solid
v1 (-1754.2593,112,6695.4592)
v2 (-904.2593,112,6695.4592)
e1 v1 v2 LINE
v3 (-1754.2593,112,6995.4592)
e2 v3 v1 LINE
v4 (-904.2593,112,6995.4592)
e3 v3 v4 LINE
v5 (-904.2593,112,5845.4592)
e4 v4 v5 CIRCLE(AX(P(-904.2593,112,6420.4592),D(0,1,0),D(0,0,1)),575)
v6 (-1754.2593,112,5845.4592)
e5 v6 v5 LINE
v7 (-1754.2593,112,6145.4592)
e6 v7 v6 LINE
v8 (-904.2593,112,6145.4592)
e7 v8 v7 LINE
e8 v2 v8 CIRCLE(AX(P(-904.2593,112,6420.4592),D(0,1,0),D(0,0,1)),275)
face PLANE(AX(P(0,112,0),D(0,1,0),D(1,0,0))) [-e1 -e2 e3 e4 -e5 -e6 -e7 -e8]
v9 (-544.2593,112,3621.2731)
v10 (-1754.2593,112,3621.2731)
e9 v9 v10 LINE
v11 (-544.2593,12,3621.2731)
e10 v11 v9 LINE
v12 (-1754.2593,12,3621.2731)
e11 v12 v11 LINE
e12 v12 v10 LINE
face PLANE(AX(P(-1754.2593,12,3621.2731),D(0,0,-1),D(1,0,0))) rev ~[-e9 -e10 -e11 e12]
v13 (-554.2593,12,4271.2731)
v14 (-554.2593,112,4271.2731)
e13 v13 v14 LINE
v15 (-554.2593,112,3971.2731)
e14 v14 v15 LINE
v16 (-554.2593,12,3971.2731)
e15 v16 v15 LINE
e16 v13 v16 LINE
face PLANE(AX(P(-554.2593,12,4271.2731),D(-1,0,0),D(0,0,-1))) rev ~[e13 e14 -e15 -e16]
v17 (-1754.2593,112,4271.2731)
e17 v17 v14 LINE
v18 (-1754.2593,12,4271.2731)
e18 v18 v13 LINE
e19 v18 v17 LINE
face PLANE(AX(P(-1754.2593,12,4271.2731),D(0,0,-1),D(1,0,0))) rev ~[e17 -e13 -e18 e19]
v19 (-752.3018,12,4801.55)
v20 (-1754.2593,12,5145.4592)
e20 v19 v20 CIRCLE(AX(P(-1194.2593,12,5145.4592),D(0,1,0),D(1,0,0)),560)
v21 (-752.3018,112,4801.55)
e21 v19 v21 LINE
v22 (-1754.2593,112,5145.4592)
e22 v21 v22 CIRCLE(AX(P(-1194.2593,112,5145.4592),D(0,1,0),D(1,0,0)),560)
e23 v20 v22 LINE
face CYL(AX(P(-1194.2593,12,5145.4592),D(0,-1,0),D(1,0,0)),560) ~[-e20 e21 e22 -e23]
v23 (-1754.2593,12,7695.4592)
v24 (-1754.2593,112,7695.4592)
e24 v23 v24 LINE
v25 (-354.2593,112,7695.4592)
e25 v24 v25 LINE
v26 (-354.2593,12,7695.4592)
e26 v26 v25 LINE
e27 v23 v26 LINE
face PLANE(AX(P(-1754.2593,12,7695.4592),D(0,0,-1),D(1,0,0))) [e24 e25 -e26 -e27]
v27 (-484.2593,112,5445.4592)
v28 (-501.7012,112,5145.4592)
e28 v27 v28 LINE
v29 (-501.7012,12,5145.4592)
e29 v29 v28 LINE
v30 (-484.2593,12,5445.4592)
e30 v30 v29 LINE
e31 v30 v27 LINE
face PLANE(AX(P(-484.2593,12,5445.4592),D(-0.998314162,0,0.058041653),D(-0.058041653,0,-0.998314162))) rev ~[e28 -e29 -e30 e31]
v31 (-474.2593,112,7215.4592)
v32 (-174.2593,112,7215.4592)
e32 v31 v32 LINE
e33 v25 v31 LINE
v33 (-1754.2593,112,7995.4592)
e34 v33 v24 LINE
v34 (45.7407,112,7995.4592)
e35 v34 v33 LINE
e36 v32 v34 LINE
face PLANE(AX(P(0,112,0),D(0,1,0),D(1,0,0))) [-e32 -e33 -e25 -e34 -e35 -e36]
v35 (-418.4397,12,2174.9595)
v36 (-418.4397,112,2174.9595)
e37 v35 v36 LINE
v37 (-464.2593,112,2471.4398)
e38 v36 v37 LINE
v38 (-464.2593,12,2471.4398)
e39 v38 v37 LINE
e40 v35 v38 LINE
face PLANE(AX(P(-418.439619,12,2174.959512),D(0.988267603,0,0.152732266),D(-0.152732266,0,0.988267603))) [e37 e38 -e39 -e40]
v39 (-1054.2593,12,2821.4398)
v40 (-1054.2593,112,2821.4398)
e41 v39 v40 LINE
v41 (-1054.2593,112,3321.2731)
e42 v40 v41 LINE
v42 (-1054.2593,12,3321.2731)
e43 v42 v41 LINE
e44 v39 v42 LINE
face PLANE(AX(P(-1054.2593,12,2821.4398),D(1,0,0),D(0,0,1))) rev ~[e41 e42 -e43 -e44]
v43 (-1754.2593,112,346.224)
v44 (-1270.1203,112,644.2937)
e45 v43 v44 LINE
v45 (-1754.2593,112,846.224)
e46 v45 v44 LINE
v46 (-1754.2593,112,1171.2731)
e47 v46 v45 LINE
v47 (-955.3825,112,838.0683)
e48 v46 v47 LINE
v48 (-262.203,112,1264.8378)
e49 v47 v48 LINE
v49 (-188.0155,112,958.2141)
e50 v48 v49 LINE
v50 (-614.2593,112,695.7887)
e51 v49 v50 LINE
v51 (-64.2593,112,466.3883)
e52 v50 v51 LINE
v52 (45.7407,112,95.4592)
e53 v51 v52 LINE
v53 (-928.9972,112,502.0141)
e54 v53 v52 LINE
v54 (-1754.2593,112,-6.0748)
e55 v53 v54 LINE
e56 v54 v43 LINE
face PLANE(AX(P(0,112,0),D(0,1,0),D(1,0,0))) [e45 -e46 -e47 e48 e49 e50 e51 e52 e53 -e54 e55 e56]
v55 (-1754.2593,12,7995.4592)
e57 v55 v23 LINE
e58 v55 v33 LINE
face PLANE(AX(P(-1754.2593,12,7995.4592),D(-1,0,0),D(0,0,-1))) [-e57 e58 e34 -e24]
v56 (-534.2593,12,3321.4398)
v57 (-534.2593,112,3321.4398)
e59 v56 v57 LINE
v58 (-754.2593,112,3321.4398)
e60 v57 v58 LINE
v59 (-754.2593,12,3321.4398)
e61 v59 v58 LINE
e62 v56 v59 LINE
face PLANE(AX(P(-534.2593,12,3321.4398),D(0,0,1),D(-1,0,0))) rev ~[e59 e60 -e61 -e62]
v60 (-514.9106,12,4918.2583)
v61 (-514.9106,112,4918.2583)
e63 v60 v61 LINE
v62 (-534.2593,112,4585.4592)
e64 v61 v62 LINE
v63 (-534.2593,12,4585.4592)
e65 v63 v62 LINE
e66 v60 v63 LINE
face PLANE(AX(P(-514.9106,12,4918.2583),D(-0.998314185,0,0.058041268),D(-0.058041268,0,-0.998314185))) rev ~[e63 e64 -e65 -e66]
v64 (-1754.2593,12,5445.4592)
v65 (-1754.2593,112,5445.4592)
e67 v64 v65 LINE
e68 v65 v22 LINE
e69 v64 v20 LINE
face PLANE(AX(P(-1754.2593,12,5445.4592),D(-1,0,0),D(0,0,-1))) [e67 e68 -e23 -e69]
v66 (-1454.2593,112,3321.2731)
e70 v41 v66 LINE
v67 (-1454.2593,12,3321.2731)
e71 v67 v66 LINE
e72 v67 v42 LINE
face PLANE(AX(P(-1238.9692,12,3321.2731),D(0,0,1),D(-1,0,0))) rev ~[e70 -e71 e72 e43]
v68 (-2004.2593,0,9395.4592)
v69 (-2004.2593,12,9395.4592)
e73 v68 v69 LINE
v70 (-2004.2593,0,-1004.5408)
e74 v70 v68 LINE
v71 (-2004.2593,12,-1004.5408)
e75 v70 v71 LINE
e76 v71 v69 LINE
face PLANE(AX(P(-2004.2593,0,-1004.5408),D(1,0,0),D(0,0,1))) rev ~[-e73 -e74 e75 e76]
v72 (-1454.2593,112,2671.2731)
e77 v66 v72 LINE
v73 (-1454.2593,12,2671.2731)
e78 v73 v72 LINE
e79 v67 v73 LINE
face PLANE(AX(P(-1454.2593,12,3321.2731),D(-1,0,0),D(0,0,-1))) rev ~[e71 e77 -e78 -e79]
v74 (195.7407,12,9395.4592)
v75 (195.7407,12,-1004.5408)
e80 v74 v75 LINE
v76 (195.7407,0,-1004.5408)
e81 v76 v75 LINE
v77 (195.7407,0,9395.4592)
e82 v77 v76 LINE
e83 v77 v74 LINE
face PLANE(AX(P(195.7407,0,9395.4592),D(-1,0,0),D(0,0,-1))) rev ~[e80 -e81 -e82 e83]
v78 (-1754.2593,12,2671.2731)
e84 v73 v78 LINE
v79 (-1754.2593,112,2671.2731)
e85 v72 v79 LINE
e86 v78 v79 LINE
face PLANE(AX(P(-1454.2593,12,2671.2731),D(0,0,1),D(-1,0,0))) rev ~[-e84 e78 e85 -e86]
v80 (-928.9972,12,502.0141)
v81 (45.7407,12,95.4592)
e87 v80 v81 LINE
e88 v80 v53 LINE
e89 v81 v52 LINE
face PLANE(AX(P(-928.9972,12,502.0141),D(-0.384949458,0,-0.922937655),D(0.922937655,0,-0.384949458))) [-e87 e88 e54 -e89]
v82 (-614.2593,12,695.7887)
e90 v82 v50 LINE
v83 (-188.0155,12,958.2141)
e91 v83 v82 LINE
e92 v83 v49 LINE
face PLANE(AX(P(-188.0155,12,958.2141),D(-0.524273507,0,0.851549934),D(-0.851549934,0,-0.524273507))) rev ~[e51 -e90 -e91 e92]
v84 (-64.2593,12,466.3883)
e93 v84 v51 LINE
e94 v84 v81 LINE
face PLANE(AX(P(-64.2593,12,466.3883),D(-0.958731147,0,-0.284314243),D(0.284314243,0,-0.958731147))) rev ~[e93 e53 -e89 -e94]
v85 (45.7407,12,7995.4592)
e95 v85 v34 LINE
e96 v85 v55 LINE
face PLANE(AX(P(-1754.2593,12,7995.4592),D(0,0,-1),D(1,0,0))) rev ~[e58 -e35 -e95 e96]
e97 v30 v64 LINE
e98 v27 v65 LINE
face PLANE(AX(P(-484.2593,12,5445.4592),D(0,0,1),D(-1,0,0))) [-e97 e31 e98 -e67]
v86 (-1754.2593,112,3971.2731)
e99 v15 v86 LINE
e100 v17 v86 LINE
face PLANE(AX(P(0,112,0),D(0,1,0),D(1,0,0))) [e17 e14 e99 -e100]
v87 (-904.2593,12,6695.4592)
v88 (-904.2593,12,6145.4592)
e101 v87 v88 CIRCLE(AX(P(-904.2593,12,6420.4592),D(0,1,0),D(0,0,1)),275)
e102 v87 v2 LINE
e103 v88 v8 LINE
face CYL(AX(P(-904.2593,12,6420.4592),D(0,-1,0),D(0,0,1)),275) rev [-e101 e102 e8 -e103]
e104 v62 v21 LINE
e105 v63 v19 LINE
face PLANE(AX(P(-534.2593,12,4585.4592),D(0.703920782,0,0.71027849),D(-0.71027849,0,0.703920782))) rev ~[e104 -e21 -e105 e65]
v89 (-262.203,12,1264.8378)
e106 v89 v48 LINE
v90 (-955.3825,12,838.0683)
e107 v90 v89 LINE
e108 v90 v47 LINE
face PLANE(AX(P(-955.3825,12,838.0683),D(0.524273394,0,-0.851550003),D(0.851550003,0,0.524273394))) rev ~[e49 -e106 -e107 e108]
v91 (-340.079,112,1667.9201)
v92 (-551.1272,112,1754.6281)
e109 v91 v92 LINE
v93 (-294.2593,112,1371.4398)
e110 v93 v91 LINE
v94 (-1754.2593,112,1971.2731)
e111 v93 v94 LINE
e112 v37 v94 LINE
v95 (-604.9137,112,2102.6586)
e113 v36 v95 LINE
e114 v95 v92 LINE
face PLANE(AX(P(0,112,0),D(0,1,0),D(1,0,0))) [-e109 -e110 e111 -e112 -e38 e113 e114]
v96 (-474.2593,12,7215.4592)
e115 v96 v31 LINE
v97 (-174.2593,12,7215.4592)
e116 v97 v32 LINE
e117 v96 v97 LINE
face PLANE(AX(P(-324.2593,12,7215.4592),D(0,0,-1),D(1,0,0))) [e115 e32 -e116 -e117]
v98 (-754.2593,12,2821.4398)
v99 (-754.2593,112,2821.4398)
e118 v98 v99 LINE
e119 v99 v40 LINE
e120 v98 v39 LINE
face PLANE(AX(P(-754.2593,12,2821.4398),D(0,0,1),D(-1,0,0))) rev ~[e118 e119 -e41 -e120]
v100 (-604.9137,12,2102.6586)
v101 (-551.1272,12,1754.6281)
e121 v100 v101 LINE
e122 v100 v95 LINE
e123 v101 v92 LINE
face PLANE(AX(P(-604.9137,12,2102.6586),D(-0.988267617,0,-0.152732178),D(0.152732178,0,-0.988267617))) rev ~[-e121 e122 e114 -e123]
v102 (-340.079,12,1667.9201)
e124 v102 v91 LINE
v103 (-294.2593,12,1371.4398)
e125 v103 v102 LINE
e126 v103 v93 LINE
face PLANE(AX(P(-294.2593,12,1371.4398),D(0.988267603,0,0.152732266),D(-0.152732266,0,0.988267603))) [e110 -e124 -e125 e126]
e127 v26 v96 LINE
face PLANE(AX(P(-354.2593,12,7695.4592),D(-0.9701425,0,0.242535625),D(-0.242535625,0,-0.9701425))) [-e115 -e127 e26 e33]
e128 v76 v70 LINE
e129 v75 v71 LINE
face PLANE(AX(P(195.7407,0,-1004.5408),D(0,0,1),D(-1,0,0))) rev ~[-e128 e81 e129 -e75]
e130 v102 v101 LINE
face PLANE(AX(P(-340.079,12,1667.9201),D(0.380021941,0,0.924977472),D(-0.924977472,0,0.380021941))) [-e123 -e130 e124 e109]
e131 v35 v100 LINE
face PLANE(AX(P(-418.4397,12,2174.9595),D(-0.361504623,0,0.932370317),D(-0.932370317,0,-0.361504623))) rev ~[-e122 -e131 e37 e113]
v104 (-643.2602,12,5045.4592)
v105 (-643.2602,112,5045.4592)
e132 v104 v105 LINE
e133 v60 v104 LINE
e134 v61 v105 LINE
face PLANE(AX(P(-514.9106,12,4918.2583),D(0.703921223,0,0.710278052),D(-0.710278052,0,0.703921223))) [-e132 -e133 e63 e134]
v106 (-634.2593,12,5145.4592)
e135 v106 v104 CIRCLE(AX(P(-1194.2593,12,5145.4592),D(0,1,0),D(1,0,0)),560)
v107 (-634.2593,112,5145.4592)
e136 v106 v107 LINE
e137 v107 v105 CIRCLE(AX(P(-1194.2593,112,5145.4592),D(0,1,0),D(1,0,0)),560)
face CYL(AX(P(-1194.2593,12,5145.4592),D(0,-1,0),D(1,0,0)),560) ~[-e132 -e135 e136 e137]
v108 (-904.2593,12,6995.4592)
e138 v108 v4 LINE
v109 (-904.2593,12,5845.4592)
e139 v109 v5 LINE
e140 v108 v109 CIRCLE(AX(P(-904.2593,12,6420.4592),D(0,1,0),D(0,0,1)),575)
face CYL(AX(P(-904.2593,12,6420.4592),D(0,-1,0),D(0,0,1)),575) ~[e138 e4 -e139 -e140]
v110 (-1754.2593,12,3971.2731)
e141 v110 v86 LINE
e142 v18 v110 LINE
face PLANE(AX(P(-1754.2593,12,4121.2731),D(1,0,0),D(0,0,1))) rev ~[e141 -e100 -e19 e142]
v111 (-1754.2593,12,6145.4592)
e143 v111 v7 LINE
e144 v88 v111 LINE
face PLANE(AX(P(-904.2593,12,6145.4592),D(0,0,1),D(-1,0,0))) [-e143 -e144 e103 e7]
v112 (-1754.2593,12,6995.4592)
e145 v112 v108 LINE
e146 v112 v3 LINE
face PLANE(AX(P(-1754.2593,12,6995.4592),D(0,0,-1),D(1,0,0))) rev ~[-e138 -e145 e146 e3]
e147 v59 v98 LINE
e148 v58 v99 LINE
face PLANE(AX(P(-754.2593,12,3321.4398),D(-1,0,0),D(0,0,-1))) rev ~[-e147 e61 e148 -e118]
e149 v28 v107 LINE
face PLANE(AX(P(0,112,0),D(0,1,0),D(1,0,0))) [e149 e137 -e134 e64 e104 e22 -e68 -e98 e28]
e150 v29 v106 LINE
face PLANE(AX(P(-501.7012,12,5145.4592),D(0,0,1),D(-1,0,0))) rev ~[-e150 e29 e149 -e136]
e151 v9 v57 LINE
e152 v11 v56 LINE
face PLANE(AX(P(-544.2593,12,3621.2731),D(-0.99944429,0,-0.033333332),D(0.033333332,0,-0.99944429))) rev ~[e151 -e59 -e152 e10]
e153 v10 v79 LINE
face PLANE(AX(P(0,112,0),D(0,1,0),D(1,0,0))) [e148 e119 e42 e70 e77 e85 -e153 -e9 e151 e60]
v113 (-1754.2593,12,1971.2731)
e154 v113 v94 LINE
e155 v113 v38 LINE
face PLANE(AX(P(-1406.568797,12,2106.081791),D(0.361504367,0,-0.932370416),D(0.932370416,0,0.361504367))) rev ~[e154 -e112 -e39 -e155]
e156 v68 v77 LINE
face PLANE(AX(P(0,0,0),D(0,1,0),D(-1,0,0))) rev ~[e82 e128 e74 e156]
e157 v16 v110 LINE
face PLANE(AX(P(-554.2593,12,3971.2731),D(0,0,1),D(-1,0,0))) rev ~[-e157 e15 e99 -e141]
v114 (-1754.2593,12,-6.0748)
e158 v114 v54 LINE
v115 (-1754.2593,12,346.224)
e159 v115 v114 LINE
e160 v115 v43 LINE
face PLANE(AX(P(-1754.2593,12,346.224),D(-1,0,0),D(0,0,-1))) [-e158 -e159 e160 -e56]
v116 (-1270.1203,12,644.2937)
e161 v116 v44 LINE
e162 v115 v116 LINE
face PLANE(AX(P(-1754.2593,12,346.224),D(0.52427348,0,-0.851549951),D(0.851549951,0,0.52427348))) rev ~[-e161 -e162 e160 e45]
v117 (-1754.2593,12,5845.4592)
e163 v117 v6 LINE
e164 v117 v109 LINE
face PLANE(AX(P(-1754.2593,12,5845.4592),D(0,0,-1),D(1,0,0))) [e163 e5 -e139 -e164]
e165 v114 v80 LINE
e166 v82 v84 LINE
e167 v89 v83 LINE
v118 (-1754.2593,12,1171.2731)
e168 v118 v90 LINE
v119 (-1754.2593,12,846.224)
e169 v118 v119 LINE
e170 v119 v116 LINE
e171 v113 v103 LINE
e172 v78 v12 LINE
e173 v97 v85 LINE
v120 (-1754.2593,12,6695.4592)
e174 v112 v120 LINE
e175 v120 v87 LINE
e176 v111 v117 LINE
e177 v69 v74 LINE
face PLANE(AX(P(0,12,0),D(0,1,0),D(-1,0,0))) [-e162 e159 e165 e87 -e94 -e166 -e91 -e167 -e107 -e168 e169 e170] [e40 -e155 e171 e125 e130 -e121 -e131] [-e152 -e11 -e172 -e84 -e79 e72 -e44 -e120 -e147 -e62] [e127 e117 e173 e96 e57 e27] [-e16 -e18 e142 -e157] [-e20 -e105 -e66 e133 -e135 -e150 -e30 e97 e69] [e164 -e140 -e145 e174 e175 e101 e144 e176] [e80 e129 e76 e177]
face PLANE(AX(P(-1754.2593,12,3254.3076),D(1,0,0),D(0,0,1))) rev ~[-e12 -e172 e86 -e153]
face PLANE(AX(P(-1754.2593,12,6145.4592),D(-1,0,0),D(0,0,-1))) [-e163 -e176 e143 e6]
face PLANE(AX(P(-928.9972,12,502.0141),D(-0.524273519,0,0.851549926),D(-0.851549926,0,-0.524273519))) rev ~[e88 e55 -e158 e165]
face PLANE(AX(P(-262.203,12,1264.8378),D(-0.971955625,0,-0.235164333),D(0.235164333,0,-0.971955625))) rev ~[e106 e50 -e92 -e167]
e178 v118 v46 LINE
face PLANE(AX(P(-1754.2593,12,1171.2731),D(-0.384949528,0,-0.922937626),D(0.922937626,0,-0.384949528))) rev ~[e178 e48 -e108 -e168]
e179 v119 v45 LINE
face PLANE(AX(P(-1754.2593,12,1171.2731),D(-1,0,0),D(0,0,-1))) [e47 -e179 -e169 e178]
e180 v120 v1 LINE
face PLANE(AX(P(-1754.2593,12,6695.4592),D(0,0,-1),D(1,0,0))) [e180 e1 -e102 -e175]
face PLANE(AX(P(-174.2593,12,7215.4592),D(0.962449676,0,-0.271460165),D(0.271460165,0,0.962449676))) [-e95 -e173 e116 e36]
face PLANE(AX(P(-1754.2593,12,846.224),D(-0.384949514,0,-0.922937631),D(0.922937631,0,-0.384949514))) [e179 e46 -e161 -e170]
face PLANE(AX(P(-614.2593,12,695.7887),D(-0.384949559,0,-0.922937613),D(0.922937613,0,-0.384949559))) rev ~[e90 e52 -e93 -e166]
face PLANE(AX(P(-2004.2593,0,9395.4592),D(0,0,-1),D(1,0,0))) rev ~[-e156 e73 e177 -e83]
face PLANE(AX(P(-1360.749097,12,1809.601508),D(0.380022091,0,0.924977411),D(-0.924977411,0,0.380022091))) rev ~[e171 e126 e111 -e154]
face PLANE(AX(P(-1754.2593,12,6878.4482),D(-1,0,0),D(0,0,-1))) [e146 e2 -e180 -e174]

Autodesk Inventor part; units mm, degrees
ref_plane "YZ Plane" through (0, 0, 0) normal (1, 0, 0) x (0, 1, 0)
ref_plane "XZ Plane" through (0, 0, 0) normal (0, 1, 0) x (-1, 0, 0)
ref_plane "XY Plane" through (0, 0, 0) normal (0, 0, 1) x (1, 0, 0)
sketch "Sketch1" plane through (0, 0, 0) normal (0, 1, 0) x (-1, 0, 0)
  line L0 (2004.2593, 9395.4592) -> (-195.7407, 9395.4592)
  line L1 (-195.7407, 9395.4592) -> (-195.7407, -1004.5408)
  line L2 (-195.7407, -1004.5408) -> (2004.2593, -1004.5408)
  line L3 (2004.2593, -1004.5408) -> (2004.2593, 9395.4592)
  point P0 (0, 0)
  dimension "d0" = 2200
  dimension "d1" = 10400
extrude "Extrusion1" add sketch "Sketch1" along normal blind 12
sketch "L" plane through (0, 12, 0) normal (0, 1, 0) x (1, 0, 0)
  line L0 (-2004.2593, -9395.4592) -> (195.7407, -9395.4592) projected
  line L1 (195.7407, -9395.4592) -> (195.7407, 1004.5408) projected
  line L2 (195.7407, 1004.5408) -> (-2004.2593, 1004.5408) projected
  line L3 (-2004.2593, 1004.5408) -> (-2004.2593, -9395.4592) projected
  line L4 (-2004.2593, -9395.4592) -> (195.7407, -9395.4592) projected
  line L5 (-106.1637, 1004.5408) -> (-106.1637, -95.4592)
  line L6 (-1754.2593, -7995.4592) -> (45.7407, -7995.4592)
  line L7 (-1754.2593, -7995.4592) -> (-1754.2593, -7695.4592)
  line L8 (-1754.2593, -7695.4592) -> (-354.2593, -7695.4592)
  line L9 (-354.2593, -7695.4592) -> (-474.2593, -7215.4592)
  line L10 (-474.2593, -7215.4592) -> (-174.2593, -7215.4592)
  line L11 (-174.2593, -7215.4592) -> (45.7407, -7995.4592)
  line L12 (45.7407, -7995.4592) -> (45.7407, -7215.4592)
  line L13 (152.3488, -8495.1819) -> (932.3488, -8495.1819) construction
  line L14 (45.7407, -7215.4592) -> (-174.2593, -7215.4592)
  line L15 (-1754.2593, -8478.1639) -> (-2004.2593, -8478.1639)
  line L16 (-1343.0832, -7995.4592) -> (-1343.0832, -9395.4592)
  line L17 (-1343.0832, -7995.4592) -> (-1343.0832, -8175.4592)
  line L18 (-324.2593, -7215.4592) -> (-324.2593, -7035.4592)
  point P0 (0, 0)
  dimension "d79" = 1100
  dimension "d89" = 1800
  dimension "d90" = 300
  dimension "d91" = 1400
  dimension "d93" = 300
  dimension "d95" = 90
  dimension "d96" = 220
  dimension "d97" = 250
  dimension "d98" = 1400
  dimension "d204" = 180
  dimension "d206" = 780
  dimension "d207" = 180
sketch "U" plane through (0, 12, 0) normal (0, 1, 0) x (1, 0, 0)
  line L0 (-1754.2593, -6995.4592) -> (-1754.2593, -6695.4592)
  line L1 (-1754.2593, -6695.4592) -> (-904.2593, -6695.4592)
  line L2 (-904.2593, -6695.4592) -> (-904.2593, -6145.4592)
  line L3 (-904.2593, -6145.4592) -> (-1754.2593, -6145.4592)
  line L4 (-1754.2593, -6145.4592) -> (-1754.2593, -5845.4592)
  line L5 (-1754.2593, -5845.4592) -> (-904.2593, -5845.4592)
  arc A0 (-904.2593, -6695.4592) -> (-904.2593, -6145.4592) centre (-904.2593, -6420.4592) ccw
  line L6 (-1754.2593, -7695.4592) -> (-354.2593, -7695.4592) projected
  line L7 (-904.2593, -6995.4592) -> (-904.2593, -7695.4592)
  line L8 (-1754.2593, -6878.4482) -> (-2004.2593, -6878.4482)
  line L9 (-2004.2593, 1004.5408) -> (-2004.2593, -9395.4592) projected
  arc A1 (-904.2593, -6995.4592) -> (-904.2593, -5845.4592) centre (-904.2593, -6420.4592) ccw
  line L10 (-1754.2593, -6995.4592) -> (-904.2593, -6995.4592)
  point P0 (0, 0)
  point P1 (-1409.2346, -6695.4592)
  dimension "d99" = 850
  dimension "d100" = 300
  dimension "d101" = 850
  dimension "d102" = 550
  dimension "d103" = 300
  dimension "d104" = 700
  dimension "d105" = 250
sketch "R" plane through (0, 12, 0) normal (0, 1, 0) x (1, 0, 0)
  line L0 (-484.2593, -5445.4592) -> (-1754.2593, -5445.4592)
  line L1 (-501.7012, -5145.4592) -> (-634.2593, -5145.4592)
  line L2 (-1754.2593, -5445.4592) -> (-1754.2593, -5145.4592)
  line L3 (-1754.2593, -5845.4592) -> (-854.2593, -5845.4592) projected
  line L4 (-2004.2593, 1004.5408) -> (-2004.2593, -9395.4592) projected
  line L5 (-534.2593, -4585.4592) -> (-752.3018, -4801.55)
  line L6 (-514.9106, -4918.2583) -> (-643.2602, -5045.4592)
  arc A0 (-634.2593, -5145.4592) -> (-1754.2593, -5145.4592) centre (-1194.2593, -5145.4592) ccw
  line L7 (-484.2593, -5445.4592) -> (-501.7012, -5145.4592)
  line L8 (-514.9106, -4918.2583) -> (-534.2593, -4585.4592)
  line L9 (-2004.2593, -9395.4592) -> (195.7407, -9395.4592) projected
  line L10 (195.7407, -9395.4592) -> (195.7407, 1004.5408) projected
  line L11 (195.7407, 1004.5408) -> (-2004.2593, 1004.5408) projected
  line L12 (-2004.2593, 1004.5408) -> (-2004.2593, -9395.4592) projected
  line L13 (-1754.2593, -5145.4592) -> (-1194.2593, -5145.4592)
  line L14 (-1754.2593, -5145.4592) -> (-1194.2593, -5145.4592)
  point P0 (0, 0)
  dimension "d107" = 1270
  dimension "d113" = 300
  dimension "d210" = 300
  dimension "d212" = 50
  dimension "d214" = 250
  dimension "d218" = 400
  dimension "d219" = 1120
  dimension "d220" = 100
  dimension "d221" = 250
  dimension "d223" = 300
  dimension "d224" = 860
  dimension "d225" = 17.4419
  dimension "d226" = 30.6512
  dimension "d227" = 560
  dimension "d228" = 332.7991
  dimension "d229" = 150
sketch "I" plane through (0, 12, 0) normal (0, 1, 0) x (1, 0, 0)
  line L0 (-1754.2593, -4271.2731) -> (-554.2593, -4271.2731)
  line L1 (-554.2593, -4271.2731) -> (-554.2593, -3971.2731)
  line L2 (-554.2593, -3971.2731) -> (-1754.2593, -3971.2731)
  line L3 (-1754.2593, -3971.2731) -> (-1754.2593, -4271.2731)
  line L4 (-1754.2593, -4121.2731) -> (-2004.2593, -4121.2731)
  line L5 (-2004.2593, 1004.5408) -> (-2004.2593, -9395.4592) projected
  line L6 (-804.2593, -4745.4592) -> (-494.0035, -4642.0405) projected
  line L7 (-484.2593, -4671.2731) -> (-484.2593, -4271.2731)
  line L8 (-554.2593, -4271.2731) -> (-484.2593, -4271.2731)
  point P0 (0, 0)
  dimension "d116" = 1200
  dimension "d117" = 300
  dimension "d118" = 250
  dimension "d119" = 400
sketch "F" plane through (0, 12, 0) normal (0, 1, 0) x (1, 0, 0)
  line L0 (-554.2593, -3971.2731) -> (-1754.2593, -3971.2731) projected
  line L1 (-1754.2593, -3621.2731) -> (-544.2593, -3621.2731)
  line L2 (-544.2593, -3621.2731) -> (-534.2593, -3321.4398)
  line L3 (-534.2593, -3321.4398) -> (-754.2593, -3321.4398)
  line L4 (-754.2593, -3321.4398) -> (-754.2593, -2821.4398)
  line L5 (-754.2593, -2821.4398) -> (-1054.2593, -2821.4398)
  line L6 (-1054.2593, -2821.4398) -> (-1054.2593, -3321.2731)
  line L7 (-1054.2593, -3321.2731) -> (-1454.2593, -3321.2731)
  line L8 (-1454.2593, -3321.2731) -> (-1454.2593, -2671.2731)
  line L9 (-1454.2593, -2671.2731) -> (-1754.2593, -2671.2731)
  line L10 (-1754.2593, -2671.2731) -> (-1754.2593, -3621.2731)
  line L11 (-1754.2593, -3971.2731) -> (-1754.2593, -4271.2731) projected
  line L12 (-1754.2593, -3254.3076) -> (-2004.2593, -3254.3076)
  line L13 (-2004.2593, 1004.5408) -> (-2004.2593, -9395.4592) projected
  line L14 (-1303.0158, -3621.2731) -> (-1303.0158, -3971.2731)
  line L15 (-1238.9692, -3321.2731) -> (-1238.9692, -3621.2731)
  line L16 (-2004.2593, -9395.4592) -> (195.7407, -9395.4592) projected
  line L17 (195.7407, -9395.4592) -> (195.7407, 1004.5408) projected
  line L18 (195.7407, 1004.5408) -> (-2004.2593, 1004.5408) projected
  line L19 (-2004.2593, 1004.5408) -> (-2004.2593, -9395.4592) projected
  point P0 (0, 0)
  dimension "d120" = 1210
  dimension "d121" = 300
  dimension "d122" = 220
  dimension "d123" = 500
  dimension "d124" = 300
  dimension "d125" = 400
  dimension "d126" = 650
  dimension "d127" = 300
  dimension "d128" = 250
  dimension "d129" = 350
  dimension "d130" = 300
sketch "A" plane through (0, 12, 0) normal (0, 1, 0) x (1, 0, 0)
  line L0 (-464.2593, -2471.4398) -> (-294.2593, -2471.4398)
  line L1 (-294.2593, -2471.4398) -> (-294.2593, -1371.4398)
  line L2 (-294.2593, -1371.4398) -> (-464.2593, -2471.4398)
  line L3 (-1754.2593, -2671.2731) -> (-1754.2593, -3621.2731) projected
  line L4 (-1454.2593, -2671.2731) -> (-1754.2593, -2671.2731) projected
  line L5 (-1754.2593, -2671.2731) -> (-1754.2593, -1971.2731)
  line L6 (-1754.2593, -1971.2731) -> (-464.2593, -2471.4398)
  line L7 (-294.2593, -1371.4398) -> (-1754.2593, -1971.2731)
  line L8 (-544.2593, -3621.2731) -> (-534.2593, -3321.4398) projected
  line L9 (-534.2593, -3321.4398) -> (-754.2593, -3321.4398) projected
  line L10 (-464.2593, -2471.4398) -> (-418.4397, -2174.9595)
  line L11 (-418.4397, -2174.9595) -> (-604.9137, -2102.6586)
  line L12 (-604.9137, -2102.6586) -> (-551.1272, -1754.6281)
  line L13 (-294.2593, -1371.4398) -> (-340.079, -1667.9201)
  line L14 (-340.079, -1667.9201) -> (-551.1272, -1754.6281)
  line L15 (-1754.2593, -7995.4592) -> (45.7407, -7995.4592) projected
  line L16 (45.7407, -7995.4592) -> (45.7407, -95.4592)
  line L17 (-534.2593, -3321.4398) -> (-534.2593, -2471.4398)
  line L18 (-534.2593, -2471.4398) -> (-464.2593, -2471.4398)
  line L19 (-418.4397, -2174.9595) -> (-410.803, -2125.5461)
  line L20 (-604.9137, -2102.6586) -> (-1360.7491, -1809.6015)
  line L21 (-1360.7491, -1809.6015) -> (-1754.2593, -1971.2731)
  line L22 (-551.1272, -1754.6281) -> (-1406.5688, -2106.0818)
  point P0 (0, 0)
  dimension "d137" = 170
  dimension "d138" = 1100
  dimension "d139" = 700
  dimension "d141" = 300
  dimension "d142" = 200
  dimension "d144" = 300
  dimension "d147" = 7900
  dimension "d186" = 850
  dimension "d187" = 70
  dimension "d188" = 50
  dimension "d254" = 211.0482
sketch "X" plane through (0, 12, 0) normal (0, 1, 0) x (1, 0, 0)
  line L0 (-294.2593, -1371.4398) -> (-1754.2593, -1971.2731) projected
  line L1 (-294.2593, -2471.4398) -> (-294.2593, -1371.4398) projected
  line L2 (45.7407, -7995.4592) -> (45.7407, -95.4592) projected
  line L3 (-64.2593, -466.3883) -> (45.7407, -95.4592)
  line L4 (-1754.2593, -1971.2731) -> (-1754.2593, 739.9844)
  line L5 (-262.203, -1264.8378) -> (-188.0155, -958.2141)
  line L6 (-1754.2593, -346.224) -> (-1270.1203, -644.2937)
  line L7 (-955.3825, -838.0683) -> (-262.203, -1264.8378)
  line L8 (-1754.2593, -846.224) -> (-1270.1203, -644.2937)
  line L9 (-928.9972, -502.0141) -> (45.7407, -95.4592)
  line L10 (-1754.2593, -1171.2731) -> (-955.3825, -838.0683)
  line L11 (-614.2593, -695.7887) -> (-64.2593, -466.3883)
  line L12 (-188.0155, -958.2141) -> (-614.2593, -695.7887)
  line L13 (-928.9972, -502.0141) -> (-1754.2593, 6.0748)
  line L14 (-2004.2593, -9395.4592) -> (195.7407, -9395.4592) projected
  line L15 (195.7407, -9395.4592) -> (195.7407, 1004.5408) projected
  line L16 (195.7407, 1004.5408) -> (-2004.2593, 1004.5408) projected
  line L17 (-2004.2593, 1004.5408) -> (-2004.2593, -9395.4592) projected
  line L18 (45.7407, -95.4592) -> (195.7407, -95.4592)
  line L19 (-64.2593, -466.3883) -> (45.7407, -420.5082)
  line L20 (45.7407, -95.4592) -> (-1754.2593, -95.4592)
  line L21 (-262.203, -1264.8378) -> (45.7407, -1454.4294)
  line L22 (-188.0155, -958.2141) -> (45.7407, -1102.1306)
  point P0 (-1754.2593, -1221.2731)
  dimension "d242" = 110
  dimension "d243" = 800
  dimension "d245" = 500
  dimension "d246" = 550
  dimension "d247" = 300
  dimension "d248" = 300
  dimension "d252" = 150
  dimension "d253" = 325.0491
  dimension "d255" = 250.7649
  dimension "d256" = 325.0491
  dimension "d257" = 352.2988
  dimension "d261" = 681.6224
  dimension "d262" = 352.2988
sketch "Moduler" plane through (0, 12, 0) normal (0, 1, 0) x (1, 0, 0)
  line L0 (195.7407, -9395.4592) -> (933.3112, -9395.4592)
  line L1 (933.3112, -9395.4592) -> (933.3112, -8385.4592)
  line L2 (933.3112, -8385.4592) -> (-2004.2593, -8385.4592)
  line L3 (933.3112, -8385.4592) -> (933.3112, -7245.4592)
  line L4 (933.3112, -7245.4592) -> (-2004.2593, -7245.4592)
  line L5 (933.3112, -7245.4592) -> (933.3112, -6025.4592)
  line L6 (933.3112, -6025.4592) -> (-2004.2593, -6025.4592)
  line L7 (-2004.2593, 1004.5408) -> (-2004.2593, -9395.4592) projected
  line L8 (933.3112, -6025.4592) -> (933.3112, -4685.4592)
  line L9 (933.3112, -4685.4592) -> (-2004.2593, -4685.4592)
  line L10 (933.3112, -4685.4592) -> (933.3112, -3935.4592)
  line L11 (933.3112, -3935.4592) -> (-2004.2593, -3935.4592)
  line L12 (933.3112, -3935.4592) -> (933.3112, -2715.4592)
  line L13 (933.3112, -2715.4592) -> (-2004.2593, -2715.4592)
  line L14 (933.3112, -2715.4592) -> (933.3112, -1495.4592)
  line L15 (933.3112, -1495.4592) -> (-2004.2593, -1495.4592)
  line L16 (933.3112, -1495.4592) -> (933.3112, -85.4592)
  line L17 (933.3112, -85.4592) -> (-2004.2593, -85.4592)
  line L18 (933.3112, -85.4592) -> (933.3112, 974.5408)
  line L19 (933.3112, 974.5408) -> (-2004.2593, 974.5408)
  point P0 (0, 0)
  dimension "d150" = 1010
  dimension "d151" = 1140
  dimension "d152" = 1220
  dimension "d153" = 1340
  dimension "d154" = 750
  dimension "d155" = 1220
  dimension "d157" = 1410
  dimension "d222" = 1060
  dimension "d263" = 1220
extrude "Extrusion2" add sketch "L" along normal blind 100 contours L6 L7 L8 L9 L10 L11
extrude "Extrusion3" add sketch "U" along normal blind 100 contours L0 L1 A0 L3 L4 L5 A1 L10
extrude "Extrusion5" add sketch "I" along normal blind 100
extrude "Extrusion6" add sketch "F" along normal blind 100 contours L10 L9 L8 L7 L15 L1 | L15 L7 L6 L5 L4 L3 L2 L1
extrude "Extrusion7" add sketch "A" along normal blind 100 contours L6 L22 L20 L11 L2 | L6 L7 L20 L22 | L2 L14 L22 L20 L7 | L20 L22 L12
sketch "Sketch14" plane through (0, 12, 0) normal (0, 1, 0) x (1, 0, 0)
  arc A0 (45.7407, -95.4592) -> (45.7407, -7995.4592) centre (12745.7407, -4045.4592) ccw
  point P0 (0, 0)
extrude "Extrusion10" add sketch "R" along normal blind 100 contours L0 L2 A0 L1 L7 | L5 L8 L6 A0
extrude "Extrusion11" add sketch "X" along normal blind 100 contours L7 L10 L4 L8 L6 L20 L13 L9 L3 L11 L12 L5 | L20 L4 L13
properties part number "skilt2"
